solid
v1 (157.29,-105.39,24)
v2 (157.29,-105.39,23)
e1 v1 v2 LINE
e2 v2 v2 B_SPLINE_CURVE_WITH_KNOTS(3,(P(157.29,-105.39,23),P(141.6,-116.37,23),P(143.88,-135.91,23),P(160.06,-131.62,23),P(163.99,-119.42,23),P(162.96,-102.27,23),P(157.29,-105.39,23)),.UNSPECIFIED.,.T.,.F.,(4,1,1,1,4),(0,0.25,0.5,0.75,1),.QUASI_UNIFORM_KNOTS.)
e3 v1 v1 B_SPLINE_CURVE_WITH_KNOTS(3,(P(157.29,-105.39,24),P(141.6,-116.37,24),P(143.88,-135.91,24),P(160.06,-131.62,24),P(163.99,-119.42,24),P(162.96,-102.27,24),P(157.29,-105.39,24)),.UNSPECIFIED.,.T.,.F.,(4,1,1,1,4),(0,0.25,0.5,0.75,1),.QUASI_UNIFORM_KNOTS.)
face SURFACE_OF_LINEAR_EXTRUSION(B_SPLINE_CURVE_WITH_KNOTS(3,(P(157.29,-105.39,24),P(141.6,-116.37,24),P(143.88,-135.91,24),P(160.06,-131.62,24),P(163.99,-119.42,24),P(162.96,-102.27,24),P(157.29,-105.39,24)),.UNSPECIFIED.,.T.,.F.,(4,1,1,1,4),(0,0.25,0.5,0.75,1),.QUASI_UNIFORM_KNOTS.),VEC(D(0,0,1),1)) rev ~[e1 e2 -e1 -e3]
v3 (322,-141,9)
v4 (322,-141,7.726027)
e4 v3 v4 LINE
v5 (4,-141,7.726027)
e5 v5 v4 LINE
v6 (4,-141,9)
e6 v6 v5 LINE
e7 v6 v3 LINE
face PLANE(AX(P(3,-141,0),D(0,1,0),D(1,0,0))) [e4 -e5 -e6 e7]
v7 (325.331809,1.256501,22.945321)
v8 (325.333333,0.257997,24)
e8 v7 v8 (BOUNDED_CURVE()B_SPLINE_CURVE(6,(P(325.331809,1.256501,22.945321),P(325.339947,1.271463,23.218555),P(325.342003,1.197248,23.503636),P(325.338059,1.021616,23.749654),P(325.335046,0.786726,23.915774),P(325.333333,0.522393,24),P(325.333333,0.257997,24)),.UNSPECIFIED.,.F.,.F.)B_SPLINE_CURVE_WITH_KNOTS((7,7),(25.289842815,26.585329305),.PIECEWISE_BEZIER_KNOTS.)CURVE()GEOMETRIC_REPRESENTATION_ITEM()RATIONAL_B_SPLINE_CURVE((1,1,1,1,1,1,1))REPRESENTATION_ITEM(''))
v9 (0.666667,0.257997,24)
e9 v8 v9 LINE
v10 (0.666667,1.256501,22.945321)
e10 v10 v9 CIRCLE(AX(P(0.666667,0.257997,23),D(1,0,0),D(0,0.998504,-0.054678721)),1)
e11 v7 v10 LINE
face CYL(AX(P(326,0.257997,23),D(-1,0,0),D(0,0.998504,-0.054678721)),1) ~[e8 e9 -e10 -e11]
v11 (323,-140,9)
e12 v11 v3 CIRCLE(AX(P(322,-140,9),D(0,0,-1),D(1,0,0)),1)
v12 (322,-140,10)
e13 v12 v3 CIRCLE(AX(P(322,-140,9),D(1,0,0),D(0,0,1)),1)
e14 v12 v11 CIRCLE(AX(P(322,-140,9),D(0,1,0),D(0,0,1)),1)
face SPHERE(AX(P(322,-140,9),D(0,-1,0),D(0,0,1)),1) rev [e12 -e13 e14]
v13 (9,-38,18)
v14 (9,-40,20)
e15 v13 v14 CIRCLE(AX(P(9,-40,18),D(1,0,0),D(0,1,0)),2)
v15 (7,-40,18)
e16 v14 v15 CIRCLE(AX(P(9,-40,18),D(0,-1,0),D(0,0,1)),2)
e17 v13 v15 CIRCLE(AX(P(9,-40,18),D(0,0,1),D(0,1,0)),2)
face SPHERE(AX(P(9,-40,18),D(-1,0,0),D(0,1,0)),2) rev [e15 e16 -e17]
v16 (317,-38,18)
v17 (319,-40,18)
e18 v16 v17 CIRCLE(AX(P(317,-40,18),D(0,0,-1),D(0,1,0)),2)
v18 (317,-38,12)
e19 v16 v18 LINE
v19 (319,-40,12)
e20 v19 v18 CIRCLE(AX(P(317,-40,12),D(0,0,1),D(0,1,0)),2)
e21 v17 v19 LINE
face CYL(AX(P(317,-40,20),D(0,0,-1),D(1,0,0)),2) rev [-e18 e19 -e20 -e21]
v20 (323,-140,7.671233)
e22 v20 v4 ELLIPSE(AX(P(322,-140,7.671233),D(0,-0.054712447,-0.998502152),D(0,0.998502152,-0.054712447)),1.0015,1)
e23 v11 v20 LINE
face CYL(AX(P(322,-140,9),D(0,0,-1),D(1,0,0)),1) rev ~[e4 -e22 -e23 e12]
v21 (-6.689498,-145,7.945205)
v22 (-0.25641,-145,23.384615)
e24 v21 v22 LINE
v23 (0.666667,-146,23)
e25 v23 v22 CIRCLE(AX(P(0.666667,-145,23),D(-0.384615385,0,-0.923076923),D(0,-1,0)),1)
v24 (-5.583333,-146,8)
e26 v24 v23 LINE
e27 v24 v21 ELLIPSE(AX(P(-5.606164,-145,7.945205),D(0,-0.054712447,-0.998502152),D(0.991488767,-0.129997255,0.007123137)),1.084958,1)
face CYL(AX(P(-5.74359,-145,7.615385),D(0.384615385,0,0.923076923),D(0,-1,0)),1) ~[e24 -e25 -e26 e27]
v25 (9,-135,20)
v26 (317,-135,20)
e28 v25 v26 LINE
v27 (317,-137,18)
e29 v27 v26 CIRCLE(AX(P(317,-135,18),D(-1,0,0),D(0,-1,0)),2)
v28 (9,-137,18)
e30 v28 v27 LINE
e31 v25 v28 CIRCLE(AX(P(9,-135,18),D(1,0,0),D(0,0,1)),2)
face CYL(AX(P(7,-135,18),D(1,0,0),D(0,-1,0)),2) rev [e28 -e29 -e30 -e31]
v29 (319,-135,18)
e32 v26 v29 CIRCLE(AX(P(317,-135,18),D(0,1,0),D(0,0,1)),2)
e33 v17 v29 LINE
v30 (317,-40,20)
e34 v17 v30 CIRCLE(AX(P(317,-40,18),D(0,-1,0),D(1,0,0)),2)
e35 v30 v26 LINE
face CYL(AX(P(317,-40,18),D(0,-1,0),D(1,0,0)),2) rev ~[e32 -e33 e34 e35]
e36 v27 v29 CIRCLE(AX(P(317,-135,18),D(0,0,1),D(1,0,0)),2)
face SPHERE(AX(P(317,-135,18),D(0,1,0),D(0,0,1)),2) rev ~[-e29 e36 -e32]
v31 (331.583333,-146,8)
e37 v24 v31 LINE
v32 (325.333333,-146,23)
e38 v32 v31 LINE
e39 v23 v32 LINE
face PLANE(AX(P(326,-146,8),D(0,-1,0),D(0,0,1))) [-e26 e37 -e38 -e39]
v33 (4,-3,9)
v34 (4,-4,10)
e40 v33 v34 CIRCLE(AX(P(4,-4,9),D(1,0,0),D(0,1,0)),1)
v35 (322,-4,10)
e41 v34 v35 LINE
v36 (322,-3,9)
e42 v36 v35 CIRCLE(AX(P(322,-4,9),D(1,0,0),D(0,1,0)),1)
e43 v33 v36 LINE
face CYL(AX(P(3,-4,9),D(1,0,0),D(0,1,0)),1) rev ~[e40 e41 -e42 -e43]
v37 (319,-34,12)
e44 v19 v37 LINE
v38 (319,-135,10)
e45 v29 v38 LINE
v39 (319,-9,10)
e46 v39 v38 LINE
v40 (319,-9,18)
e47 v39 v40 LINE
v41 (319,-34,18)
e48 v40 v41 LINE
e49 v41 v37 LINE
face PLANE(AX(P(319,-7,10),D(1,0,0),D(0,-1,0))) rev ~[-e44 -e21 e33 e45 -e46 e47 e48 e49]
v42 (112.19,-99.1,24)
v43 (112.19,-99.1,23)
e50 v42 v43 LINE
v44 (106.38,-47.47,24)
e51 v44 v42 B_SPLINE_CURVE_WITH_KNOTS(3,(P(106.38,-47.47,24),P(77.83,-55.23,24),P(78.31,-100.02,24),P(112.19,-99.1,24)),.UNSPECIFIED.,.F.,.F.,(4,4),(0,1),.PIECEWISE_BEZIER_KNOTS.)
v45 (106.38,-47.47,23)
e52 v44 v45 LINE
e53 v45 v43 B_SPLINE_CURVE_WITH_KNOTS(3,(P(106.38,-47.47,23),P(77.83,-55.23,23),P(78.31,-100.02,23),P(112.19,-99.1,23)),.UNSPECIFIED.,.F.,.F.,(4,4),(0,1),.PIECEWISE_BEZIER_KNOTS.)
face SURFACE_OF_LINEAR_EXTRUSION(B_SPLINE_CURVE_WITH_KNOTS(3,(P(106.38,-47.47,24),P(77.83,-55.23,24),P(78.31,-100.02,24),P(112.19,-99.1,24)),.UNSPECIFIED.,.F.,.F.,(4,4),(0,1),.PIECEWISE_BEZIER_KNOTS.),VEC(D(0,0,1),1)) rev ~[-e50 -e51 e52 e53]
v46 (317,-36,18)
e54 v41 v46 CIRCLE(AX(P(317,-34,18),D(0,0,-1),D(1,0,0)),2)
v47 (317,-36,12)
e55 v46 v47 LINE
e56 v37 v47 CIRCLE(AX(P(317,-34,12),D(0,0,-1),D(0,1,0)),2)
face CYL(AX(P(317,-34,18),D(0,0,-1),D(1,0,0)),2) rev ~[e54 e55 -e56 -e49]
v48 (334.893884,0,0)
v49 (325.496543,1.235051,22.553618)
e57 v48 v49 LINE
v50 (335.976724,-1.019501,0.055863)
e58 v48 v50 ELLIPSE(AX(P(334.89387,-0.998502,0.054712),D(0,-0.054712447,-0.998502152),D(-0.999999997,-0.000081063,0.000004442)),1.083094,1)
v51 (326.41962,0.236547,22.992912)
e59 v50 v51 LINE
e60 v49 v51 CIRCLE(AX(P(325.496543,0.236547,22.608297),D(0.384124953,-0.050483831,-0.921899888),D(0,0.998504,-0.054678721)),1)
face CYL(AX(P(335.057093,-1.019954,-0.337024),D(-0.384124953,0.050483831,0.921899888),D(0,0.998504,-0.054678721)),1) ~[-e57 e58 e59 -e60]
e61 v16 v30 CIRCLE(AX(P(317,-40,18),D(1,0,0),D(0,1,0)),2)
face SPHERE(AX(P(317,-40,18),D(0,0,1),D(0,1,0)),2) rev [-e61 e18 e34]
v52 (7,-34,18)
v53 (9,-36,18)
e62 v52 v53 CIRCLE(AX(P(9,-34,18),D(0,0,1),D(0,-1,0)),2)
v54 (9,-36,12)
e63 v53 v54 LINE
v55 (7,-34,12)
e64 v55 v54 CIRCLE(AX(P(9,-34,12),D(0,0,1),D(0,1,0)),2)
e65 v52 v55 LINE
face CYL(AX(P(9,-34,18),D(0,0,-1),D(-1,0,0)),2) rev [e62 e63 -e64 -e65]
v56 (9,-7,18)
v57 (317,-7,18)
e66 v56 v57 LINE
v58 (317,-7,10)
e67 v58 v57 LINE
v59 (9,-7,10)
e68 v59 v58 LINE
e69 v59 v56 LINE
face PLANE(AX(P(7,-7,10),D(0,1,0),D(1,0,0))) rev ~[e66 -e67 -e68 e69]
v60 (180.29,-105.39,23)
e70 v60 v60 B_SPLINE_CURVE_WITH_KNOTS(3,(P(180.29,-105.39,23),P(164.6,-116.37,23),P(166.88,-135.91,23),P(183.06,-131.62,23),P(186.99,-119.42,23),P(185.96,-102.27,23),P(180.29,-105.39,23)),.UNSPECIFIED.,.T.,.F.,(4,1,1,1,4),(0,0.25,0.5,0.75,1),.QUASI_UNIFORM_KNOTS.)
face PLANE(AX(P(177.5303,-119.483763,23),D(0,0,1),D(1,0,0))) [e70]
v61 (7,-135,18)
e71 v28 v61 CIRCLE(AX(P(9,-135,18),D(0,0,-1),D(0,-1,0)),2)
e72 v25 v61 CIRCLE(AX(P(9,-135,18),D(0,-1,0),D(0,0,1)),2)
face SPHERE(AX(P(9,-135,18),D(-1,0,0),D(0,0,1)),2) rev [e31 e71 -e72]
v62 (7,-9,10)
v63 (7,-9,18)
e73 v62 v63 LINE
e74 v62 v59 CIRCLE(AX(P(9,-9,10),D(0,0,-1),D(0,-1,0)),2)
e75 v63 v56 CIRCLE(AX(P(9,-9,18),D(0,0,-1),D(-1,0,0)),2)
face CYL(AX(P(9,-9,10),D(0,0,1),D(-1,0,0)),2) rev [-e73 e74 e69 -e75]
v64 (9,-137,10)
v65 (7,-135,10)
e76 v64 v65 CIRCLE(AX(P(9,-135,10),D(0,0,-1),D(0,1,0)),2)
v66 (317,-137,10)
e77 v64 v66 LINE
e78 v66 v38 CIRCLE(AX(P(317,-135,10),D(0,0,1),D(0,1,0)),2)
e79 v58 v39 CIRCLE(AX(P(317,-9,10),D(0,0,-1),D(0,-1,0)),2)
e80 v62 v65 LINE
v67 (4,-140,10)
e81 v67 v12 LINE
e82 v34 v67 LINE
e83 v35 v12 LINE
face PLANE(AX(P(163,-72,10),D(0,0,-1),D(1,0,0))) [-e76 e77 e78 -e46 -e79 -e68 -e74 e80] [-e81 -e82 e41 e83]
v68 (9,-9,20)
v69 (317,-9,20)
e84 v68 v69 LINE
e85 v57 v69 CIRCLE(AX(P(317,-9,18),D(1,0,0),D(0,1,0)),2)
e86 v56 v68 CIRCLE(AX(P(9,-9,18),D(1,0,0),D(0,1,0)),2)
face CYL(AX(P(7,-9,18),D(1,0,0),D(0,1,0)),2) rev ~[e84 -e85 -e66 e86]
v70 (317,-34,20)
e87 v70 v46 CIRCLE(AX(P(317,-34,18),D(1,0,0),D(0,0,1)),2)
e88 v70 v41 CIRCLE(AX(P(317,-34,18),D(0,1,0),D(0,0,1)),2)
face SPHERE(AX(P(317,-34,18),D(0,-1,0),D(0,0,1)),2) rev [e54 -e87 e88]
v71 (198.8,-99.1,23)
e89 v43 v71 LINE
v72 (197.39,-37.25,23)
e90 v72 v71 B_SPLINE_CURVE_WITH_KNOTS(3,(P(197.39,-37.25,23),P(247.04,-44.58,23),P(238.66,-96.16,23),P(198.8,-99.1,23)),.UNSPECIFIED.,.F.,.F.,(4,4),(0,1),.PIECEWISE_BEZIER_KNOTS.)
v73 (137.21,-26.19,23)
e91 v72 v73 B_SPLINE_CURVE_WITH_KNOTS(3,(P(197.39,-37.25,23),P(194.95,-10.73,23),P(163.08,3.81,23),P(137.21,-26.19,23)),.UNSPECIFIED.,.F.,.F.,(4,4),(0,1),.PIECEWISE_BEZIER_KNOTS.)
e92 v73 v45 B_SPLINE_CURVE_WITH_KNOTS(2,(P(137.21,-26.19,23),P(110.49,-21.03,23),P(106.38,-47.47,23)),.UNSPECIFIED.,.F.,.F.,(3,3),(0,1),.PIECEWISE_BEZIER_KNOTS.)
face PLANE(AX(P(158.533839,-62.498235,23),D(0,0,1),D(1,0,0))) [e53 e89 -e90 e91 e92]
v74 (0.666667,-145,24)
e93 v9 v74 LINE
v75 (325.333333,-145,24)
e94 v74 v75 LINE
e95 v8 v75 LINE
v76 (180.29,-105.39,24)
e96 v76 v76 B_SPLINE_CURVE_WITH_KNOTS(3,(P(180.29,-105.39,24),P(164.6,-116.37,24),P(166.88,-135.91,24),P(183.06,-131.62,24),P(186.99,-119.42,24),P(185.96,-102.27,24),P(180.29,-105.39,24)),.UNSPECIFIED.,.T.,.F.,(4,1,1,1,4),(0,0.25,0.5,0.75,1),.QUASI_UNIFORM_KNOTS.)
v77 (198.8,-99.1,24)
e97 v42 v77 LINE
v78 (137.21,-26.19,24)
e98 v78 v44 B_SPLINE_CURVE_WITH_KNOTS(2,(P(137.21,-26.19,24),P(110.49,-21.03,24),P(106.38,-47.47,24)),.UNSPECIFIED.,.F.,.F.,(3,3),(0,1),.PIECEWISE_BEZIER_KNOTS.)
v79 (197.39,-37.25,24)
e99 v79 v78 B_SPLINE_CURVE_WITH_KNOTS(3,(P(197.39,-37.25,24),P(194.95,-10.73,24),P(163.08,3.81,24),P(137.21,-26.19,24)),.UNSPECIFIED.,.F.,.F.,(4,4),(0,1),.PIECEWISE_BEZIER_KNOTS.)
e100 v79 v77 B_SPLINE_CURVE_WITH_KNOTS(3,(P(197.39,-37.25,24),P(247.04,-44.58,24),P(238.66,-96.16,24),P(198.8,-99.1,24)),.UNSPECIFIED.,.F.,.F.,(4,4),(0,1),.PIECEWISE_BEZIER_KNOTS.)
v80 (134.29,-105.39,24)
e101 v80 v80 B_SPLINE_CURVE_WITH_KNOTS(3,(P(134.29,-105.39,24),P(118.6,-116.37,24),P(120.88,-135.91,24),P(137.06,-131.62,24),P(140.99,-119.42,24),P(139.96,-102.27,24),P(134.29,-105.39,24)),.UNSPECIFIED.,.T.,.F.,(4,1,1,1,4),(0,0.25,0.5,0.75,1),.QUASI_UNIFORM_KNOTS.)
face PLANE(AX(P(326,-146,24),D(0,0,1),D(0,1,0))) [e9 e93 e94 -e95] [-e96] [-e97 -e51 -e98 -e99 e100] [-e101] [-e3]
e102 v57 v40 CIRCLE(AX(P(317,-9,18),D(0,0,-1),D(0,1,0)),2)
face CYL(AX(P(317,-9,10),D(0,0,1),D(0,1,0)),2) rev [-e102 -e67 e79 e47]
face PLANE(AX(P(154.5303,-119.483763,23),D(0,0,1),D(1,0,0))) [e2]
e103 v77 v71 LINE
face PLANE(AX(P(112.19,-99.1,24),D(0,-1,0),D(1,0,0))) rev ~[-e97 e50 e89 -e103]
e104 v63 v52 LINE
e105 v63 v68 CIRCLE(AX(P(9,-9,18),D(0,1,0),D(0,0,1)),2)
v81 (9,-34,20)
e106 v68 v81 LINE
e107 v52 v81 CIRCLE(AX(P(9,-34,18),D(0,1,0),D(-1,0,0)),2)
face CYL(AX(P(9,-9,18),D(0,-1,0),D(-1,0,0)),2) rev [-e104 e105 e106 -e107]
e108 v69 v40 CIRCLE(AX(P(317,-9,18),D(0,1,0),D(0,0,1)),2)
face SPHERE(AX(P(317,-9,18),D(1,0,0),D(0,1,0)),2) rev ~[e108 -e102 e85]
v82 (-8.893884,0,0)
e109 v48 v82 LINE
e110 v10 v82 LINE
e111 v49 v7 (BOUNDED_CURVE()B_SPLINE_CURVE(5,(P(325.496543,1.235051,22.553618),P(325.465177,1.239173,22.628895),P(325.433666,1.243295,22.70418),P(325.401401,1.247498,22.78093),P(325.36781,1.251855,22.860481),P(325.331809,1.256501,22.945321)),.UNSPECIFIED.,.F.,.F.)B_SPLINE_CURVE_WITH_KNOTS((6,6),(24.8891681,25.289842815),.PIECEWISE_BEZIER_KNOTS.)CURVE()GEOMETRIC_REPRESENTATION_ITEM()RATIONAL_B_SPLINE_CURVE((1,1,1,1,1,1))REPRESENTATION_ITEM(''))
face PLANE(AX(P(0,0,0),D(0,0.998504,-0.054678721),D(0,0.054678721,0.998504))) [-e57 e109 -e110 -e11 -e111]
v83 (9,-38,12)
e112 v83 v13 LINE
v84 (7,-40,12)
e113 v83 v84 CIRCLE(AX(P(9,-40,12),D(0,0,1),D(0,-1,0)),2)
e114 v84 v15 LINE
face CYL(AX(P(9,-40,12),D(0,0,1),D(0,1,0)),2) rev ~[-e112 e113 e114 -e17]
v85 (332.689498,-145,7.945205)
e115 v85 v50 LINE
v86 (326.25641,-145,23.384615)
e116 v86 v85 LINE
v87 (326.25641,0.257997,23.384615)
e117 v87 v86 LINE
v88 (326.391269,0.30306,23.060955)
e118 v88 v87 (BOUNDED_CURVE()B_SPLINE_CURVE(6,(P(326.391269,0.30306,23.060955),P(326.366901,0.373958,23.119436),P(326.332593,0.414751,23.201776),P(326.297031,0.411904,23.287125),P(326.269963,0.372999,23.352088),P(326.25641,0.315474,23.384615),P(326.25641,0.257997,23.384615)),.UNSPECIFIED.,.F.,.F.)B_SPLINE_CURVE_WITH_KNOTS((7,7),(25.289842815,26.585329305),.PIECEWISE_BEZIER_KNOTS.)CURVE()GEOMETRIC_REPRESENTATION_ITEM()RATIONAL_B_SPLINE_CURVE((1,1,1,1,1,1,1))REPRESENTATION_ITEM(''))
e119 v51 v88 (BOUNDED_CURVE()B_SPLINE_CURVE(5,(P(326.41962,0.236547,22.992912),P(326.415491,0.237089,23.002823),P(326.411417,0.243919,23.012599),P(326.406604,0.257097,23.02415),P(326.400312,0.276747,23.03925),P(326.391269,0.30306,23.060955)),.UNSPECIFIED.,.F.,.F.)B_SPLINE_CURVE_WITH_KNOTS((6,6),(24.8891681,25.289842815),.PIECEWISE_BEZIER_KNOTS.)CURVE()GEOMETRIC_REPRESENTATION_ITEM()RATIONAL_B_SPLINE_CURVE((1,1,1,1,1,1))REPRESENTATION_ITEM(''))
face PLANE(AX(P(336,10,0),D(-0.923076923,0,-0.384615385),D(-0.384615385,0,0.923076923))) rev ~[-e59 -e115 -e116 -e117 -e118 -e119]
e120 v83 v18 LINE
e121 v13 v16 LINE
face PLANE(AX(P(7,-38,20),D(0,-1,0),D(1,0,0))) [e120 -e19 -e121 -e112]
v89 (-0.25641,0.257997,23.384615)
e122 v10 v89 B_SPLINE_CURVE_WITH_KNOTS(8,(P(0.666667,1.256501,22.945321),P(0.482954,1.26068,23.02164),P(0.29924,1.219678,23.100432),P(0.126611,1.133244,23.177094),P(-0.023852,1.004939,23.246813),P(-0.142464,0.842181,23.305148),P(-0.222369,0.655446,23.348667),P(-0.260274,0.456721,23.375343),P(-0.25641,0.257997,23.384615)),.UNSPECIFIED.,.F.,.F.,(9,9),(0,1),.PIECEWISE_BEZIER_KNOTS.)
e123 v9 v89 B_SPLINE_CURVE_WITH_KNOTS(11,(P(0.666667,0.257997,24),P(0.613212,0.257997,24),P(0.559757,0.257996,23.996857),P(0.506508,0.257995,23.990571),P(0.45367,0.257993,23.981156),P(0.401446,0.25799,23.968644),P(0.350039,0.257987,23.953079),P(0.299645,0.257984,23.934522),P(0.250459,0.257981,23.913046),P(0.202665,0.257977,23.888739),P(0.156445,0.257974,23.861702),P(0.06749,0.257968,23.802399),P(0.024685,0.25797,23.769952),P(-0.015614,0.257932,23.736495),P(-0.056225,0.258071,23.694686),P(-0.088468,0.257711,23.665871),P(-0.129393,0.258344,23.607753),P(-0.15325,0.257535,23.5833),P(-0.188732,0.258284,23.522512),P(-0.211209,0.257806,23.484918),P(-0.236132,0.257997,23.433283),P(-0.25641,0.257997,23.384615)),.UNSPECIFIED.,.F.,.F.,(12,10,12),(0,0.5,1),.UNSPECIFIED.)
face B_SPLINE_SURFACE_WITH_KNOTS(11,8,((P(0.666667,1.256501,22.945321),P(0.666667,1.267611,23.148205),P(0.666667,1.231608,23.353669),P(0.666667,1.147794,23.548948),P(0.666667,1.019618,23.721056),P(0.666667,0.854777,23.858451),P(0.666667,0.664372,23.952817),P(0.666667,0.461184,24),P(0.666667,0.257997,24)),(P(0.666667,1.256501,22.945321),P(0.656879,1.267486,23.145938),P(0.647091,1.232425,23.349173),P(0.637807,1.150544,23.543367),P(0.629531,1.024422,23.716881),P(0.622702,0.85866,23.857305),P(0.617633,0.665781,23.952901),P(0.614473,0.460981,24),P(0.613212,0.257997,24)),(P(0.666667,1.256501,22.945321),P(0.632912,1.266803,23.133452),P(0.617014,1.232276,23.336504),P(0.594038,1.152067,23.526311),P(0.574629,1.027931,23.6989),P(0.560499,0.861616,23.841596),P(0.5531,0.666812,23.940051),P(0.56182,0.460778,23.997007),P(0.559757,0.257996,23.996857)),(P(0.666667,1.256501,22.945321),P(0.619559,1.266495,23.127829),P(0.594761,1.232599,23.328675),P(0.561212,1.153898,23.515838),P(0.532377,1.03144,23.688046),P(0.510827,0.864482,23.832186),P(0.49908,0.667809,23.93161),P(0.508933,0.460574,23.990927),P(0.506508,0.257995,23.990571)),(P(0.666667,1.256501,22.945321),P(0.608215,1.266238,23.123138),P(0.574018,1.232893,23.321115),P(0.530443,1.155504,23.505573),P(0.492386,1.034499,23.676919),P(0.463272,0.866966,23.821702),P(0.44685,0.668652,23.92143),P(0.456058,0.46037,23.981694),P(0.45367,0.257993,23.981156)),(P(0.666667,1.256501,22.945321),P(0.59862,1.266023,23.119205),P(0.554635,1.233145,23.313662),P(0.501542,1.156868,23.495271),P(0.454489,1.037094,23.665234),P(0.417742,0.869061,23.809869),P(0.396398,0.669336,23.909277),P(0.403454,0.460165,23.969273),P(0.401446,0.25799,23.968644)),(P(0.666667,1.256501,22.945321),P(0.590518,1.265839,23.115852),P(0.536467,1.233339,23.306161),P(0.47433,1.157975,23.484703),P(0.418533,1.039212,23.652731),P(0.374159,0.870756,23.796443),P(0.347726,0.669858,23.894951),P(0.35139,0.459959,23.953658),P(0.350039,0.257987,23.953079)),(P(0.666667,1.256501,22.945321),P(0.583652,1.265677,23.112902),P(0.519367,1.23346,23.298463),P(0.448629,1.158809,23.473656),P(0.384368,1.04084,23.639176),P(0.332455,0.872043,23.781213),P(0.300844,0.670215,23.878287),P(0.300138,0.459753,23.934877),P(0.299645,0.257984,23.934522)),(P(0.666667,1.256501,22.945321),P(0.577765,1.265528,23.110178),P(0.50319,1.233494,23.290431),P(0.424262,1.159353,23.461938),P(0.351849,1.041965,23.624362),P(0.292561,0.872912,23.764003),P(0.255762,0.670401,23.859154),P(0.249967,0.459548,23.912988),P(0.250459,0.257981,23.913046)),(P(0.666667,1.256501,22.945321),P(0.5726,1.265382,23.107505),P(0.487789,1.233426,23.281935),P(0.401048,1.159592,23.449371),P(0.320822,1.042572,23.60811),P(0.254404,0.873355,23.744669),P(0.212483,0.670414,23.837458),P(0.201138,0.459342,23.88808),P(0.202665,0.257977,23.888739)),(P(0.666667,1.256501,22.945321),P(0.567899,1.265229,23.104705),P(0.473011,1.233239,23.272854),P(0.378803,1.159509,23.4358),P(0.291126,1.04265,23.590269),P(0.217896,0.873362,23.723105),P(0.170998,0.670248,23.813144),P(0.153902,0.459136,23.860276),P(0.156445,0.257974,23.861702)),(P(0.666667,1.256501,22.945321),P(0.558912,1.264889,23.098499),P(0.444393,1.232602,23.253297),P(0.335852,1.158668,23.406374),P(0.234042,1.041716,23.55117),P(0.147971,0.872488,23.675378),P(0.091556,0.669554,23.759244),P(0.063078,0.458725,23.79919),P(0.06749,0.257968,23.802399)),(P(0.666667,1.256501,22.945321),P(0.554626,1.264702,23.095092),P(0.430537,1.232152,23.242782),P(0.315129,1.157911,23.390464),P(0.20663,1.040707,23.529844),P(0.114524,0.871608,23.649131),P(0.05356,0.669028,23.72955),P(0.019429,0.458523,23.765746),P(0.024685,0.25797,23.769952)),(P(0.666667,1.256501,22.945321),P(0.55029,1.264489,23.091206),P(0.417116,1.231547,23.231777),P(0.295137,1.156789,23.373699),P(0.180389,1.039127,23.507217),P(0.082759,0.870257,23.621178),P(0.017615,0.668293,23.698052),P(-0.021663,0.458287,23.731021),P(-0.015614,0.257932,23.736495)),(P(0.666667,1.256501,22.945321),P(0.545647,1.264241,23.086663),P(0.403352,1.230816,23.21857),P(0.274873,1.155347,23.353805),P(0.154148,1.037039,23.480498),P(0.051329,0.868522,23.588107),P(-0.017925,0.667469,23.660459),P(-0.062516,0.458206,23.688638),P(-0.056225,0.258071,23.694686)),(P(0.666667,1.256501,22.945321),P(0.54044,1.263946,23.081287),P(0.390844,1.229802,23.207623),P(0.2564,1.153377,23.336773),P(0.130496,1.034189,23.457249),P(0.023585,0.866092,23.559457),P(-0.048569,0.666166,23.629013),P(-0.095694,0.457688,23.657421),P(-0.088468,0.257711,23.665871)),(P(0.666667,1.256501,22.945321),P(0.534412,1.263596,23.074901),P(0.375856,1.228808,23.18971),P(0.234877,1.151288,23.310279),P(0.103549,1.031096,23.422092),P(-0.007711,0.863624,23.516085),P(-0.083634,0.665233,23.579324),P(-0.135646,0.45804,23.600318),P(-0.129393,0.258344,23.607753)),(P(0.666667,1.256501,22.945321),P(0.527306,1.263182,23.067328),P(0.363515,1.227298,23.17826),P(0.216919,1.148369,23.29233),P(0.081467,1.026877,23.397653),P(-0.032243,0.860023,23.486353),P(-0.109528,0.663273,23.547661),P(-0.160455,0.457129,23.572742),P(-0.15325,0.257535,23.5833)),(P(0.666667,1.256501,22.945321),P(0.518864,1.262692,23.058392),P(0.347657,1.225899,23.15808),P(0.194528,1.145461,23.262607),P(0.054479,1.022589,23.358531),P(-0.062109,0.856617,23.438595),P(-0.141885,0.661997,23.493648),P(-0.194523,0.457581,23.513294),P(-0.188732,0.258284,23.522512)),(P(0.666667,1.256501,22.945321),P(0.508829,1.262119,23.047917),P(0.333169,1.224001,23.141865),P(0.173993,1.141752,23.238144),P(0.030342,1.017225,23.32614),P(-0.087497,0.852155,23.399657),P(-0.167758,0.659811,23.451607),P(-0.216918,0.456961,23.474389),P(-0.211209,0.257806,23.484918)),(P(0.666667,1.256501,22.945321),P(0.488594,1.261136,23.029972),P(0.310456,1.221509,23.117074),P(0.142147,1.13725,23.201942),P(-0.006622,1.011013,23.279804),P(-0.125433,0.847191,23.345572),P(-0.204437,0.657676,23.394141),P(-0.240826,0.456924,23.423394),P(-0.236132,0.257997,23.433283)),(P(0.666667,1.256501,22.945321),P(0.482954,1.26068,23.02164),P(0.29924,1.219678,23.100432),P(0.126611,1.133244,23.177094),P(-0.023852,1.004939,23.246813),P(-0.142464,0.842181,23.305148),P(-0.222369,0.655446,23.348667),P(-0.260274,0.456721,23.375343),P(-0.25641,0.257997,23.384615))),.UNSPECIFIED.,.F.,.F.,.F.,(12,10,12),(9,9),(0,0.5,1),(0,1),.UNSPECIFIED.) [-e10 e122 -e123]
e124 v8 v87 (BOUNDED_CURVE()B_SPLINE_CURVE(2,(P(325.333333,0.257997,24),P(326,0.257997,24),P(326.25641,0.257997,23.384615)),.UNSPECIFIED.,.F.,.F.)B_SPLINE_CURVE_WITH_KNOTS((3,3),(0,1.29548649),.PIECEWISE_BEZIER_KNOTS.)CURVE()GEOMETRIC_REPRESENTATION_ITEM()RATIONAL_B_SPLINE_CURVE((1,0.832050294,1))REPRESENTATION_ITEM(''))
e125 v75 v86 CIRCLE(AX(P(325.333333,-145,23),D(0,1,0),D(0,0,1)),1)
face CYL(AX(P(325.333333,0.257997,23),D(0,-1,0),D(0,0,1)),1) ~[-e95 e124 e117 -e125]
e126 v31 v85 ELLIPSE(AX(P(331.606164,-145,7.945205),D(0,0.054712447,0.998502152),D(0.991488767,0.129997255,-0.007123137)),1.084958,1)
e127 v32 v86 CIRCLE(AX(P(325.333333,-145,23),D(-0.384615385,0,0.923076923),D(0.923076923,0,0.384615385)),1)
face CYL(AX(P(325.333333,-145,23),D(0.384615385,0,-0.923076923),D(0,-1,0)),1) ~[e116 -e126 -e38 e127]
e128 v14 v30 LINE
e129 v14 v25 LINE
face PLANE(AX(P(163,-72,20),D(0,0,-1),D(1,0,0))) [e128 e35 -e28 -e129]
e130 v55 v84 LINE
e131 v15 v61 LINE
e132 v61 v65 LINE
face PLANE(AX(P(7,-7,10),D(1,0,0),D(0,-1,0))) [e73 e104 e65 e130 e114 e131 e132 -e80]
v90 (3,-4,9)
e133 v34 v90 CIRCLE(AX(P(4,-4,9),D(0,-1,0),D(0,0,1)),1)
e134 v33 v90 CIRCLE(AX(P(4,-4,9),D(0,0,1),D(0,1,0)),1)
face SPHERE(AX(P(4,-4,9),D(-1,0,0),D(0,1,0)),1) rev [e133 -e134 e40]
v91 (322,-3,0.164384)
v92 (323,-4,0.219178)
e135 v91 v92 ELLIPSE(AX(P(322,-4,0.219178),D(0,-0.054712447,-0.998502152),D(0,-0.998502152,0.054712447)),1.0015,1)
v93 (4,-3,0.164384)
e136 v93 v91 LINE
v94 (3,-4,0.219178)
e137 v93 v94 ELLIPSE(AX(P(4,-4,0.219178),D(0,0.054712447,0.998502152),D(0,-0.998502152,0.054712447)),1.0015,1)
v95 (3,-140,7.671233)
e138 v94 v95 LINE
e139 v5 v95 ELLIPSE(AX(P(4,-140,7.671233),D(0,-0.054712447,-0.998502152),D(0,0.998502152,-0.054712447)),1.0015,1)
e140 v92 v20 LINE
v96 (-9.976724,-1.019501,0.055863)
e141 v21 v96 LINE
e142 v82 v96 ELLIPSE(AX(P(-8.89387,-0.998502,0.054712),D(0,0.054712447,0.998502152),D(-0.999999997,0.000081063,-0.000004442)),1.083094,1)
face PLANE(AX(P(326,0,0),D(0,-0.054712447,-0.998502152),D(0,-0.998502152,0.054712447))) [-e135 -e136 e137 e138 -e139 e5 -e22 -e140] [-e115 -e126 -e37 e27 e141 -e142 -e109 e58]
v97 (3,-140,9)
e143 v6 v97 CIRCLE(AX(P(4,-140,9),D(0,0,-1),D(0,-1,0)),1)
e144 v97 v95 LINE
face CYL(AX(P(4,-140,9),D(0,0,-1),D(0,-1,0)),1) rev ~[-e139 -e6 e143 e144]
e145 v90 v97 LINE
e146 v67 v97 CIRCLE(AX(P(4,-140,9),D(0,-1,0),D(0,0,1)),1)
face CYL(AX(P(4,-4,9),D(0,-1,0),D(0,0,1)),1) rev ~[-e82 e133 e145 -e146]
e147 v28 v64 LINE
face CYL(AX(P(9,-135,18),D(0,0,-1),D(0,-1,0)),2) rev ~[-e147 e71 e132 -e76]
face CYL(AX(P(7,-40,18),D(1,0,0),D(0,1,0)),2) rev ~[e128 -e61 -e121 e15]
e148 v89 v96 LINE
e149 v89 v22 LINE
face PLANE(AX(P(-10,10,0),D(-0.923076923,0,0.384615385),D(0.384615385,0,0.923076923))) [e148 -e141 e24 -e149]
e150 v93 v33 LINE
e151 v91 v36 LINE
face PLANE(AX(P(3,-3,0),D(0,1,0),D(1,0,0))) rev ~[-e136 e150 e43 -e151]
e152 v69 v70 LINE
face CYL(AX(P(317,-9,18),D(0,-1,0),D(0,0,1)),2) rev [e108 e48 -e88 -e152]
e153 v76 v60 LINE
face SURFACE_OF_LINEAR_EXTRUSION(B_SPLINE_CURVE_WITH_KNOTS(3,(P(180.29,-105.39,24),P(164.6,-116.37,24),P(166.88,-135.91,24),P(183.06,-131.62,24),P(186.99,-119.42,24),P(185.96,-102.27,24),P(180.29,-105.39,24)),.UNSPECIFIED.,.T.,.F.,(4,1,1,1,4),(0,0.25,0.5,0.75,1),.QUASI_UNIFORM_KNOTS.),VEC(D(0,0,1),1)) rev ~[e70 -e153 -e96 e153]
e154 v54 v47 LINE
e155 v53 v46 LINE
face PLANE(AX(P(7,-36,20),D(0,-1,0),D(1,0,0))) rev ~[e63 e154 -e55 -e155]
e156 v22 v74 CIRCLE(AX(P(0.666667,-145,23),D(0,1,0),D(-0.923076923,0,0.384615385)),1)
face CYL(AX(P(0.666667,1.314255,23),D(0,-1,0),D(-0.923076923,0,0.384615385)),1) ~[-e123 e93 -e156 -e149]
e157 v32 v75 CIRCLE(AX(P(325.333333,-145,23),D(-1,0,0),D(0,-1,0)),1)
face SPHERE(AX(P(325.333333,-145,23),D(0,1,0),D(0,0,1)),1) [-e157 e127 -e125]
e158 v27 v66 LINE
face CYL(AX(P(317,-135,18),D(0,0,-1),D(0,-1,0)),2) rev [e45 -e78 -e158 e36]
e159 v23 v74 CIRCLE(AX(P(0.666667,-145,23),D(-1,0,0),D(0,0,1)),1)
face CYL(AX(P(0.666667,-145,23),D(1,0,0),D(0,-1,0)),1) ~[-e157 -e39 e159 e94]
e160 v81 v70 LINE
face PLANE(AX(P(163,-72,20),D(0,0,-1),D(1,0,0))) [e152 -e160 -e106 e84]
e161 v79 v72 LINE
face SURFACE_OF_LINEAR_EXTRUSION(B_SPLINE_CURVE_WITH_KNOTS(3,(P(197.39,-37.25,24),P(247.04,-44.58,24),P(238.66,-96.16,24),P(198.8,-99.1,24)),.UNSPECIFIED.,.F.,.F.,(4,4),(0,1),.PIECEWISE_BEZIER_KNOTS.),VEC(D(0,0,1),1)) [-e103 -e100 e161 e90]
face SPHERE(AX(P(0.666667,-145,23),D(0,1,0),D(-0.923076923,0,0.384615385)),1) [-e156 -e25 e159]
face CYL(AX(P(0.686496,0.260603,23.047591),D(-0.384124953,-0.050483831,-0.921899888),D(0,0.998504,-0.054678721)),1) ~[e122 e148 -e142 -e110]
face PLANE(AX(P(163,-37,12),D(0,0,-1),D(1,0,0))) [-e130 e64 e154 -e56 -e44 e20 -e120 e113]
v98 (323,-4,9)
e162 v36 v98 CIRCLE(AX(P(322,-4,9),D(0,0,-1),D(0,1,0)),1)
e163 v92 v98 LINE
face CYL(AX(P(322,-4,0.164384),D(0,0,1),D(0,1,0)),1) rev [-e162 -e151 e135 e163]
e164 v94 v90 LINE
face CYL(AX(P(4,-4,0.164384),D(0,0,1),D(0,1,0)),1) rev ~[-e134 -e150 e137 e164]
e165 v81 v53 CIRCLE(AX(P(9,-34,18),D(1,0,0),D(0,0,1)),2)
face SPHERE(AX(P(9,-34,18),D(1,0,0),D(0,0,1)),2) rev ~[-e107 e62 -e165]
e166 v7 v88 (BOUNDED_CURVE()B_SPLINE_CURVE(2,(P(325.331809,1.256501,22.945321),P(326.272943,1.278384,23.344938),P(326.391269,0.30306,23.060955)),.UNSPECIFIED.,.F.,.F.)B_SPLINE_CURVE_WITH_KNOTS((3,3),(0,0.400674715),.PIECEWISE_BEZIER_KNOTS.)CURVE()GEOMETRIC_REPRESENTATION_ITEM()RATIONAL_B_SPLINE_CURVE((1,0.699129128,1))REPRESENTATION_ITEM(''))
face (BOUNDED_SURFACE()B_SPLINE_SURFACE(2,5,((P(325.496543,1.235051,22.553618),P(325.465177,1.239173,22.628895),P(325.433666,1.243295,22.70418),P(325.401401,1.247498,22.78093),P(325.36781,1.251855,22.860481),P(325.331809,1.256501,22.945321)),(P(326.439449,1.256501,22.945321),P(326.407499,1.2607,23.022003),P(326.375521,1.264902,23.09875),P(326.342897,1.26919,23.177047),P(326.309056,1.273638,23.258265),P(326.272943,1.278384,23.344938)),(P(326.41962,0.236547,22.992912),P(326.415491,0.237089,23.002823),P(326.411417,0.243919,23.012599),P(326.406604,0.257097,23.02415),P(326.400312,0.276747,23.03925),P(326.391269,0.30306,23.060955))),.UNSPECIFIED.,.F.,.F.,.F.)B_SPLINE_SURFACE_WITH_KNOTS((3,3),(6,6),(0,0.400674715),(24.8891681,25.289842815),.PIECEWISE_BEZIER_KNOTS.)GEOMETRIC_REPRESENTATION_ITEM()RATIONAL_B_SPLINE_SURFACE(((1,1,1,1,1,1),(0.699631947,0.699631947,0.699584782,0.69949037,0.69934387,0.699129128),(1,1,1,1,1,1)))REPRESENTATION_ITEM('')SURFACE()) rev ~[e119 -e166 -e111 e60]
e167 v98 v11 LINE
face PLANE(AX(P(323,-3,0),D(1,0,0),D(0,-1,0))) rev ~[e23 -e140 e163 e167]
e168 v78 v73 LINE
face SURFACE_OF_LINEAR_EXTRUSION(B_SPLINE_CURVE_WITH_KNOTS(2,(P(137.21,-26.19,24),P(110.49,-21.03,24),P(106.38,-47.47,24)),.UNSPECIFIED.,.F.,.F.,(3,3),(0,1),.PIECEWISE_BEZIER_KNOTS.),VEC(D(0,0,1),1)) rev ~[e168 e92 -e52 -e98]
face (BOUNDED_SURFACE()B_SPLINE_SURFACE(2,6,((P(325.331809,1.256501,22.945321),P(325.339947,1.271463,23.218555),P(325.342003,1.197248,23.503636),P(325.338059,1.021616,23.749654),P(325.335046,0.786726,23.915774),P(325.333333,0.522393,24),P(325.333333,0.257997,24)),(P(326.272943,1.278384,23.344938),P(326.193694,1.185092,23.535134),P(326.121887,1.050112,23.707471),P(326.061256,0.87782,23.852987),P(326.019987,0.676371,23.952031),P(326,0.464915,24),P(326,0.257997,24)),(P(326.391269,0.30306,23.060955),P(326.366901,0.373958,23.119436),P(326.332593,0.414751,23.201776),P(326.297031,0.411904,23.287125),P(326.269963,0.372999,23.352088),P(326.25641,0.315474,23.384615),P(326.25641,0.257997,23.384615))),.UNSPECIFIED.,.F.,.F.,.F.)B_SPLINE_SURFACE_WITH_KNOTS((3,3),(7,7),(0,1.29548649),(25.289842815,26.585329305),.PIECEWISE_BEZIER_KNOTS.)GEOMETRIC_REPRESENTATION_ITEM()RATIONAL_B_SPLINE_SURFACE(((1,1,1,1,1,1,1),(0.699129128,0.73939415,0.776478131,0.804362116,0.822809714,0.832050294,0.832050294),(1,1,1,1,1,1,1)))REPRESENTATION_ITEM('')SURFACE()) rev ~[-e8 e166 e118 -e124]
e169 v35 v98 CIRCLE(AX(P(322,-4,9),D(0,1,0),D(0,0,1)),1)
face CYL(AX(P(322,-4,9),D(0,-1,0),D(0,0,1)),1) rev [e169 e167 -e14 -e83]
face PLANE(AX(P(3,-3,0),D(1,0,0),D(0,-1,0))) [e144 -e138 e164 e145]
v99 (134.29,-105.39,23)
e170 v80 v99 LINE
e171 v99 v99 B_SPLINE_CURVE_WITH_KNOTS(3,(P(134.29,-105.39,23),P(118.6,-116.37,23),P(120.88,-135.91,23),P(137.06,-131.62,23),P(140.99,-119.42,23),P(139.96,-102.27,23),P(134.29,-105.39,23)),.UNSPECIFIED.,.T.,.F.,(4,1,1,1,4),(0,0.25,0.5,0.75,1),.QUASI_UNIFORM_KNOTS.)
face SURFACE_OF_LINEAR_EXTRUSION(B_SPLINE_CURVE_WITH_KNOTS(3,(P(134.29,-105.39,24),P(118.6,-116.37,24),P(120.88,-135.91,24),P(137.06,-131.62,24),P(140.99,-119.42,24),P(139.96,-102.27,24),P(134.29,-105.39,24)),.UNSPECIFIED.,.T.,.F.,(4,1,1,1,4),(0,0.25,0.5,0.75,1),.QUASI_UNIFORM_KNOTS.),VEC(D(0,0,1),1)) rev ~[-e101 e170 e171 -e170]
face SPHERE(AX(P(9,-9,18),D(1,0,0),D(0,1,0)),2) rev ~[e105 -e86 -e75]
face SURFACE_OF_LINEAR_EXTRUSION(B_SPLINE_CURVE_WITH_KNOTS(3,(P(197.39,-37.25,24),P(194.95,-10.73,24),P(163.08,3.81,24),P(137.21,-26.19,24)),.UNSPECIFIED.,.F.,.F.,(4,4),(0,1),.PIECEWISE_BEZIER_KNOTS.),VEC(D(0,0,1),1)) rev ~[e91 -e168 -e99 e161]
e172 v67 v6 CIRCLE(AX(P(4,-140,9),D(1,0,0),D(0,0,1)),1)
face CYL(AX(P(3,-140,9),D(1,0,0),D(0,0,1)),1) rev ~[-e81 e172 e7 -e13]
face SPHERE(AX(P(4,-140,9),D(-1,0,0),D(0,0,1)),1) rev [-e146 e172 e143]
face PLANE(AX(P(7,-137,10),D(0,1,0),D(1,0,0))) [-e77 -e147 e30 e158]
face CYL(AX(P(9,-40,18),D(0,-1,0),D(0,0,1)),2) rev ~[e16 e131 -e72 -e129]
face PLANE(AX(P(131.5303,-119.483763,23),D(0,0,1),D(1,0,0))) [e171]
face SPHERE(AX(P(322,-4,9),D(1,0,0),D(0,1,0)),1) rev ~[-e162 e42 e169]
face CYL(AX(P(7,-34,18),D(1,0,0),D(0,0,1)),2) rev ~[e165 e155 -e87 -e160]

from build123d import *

# Parameters (mm, degrees)
SKETCH_W        = 326
SKETCH_H        = 146
PAD_DEPTH       = 24
SKETCH001_W     = 320
SKETCH001_H     = 138
POCKET_DEPTH    = 10
POCKET001_DEPTH = 350
SKETCH003_W     = 312
SKETCH003_H     = 130
POCKET002_DEPTH = 10
SKETCH004_W     = 312
SKETCH004_H     = 2
PAD001_DEPTH    = 8
POCKET003_DEPTH = 1
POCKET004_DEPTH = 1
SKETCH007_W     = 326
SKETCH007_H     = 24
PAD002_DEPTH    = 10
PAD003_DEPTH    = 20
PAD004_DEPTH    = 20
POCKET005_DEPTH = 160
POCKET006_DEPTH = 380
POCKET007_DEPTH = 360
FILLET_R        = 1
FILLET001_R     = 1
FILLET002_R     = 1
FILLET003_R     = 1
FILLET004_R     = 1
FILLET005_R     = 1
FILLET006_R     = 1
FILLET007_R     = 1
FILLET008_R     = 2
FILLET009_R     = 2
FILLET010_R     = 2
FILLET011_R     = 2
FILLET012_R     = 2
FILLET013_R     = 2
FILLET014_R     = 2
FILLET015_R     = 2


with BuildPart() as part:
    # Sketch → Pad (new body)
    with BuildSketch(Plane.XY):
        with Locations((163, -73)):
            Rectangle(SKETCH_W, SKETCH_H)
    extrude(amount=PAD_DEPTH)

    # Sketch001 (on Face5 of Pad) → Pocket (cut)
    with BuildSketch(Plane(origin=(0, 0, 0), x_dir=(1, 0, 0), z_dir=(0, 0, -1))):
        with Locations((163, 72)):
            Rectangle(SKETCH001_W, SKETCH001_H)
    extrude(amount=-POCKET_DEPTH, mode=Mode.SUBTRACT)

    # Sketch002 (on Face2 of Pocket) → Pocket001 (cut)
    with BuildSketch(Plane(origin=(0, 0, 0), x_dir=(0, -1, 0), z_dir=(-1, 0, 0))):
        Polygon((0, 0), (146, 0), (146, 8), align=None)
    extrude(amount=-POCKET001_DEPTH, mode=Mode.SUBTRACT)

    # Sketch003 (on Face11 of Pocket001) → Pocket002 (cut)
    with BuildSketch(Plane(origin=(0, 0, 10), x_dir=(1, 0, 0), z_dir=(0, 0, -1))):
        with Locations((163, 72)):
            Rectangle(SKETCH003_W, SKETCH003_H)
    extrude(amount=-POCKET002_DEPTH, mode=Mode.SUBTRACT)

    # Sketch004 (on Face16 of Pocket002) → Pad001 (join)
    with BuildSketch(Plane(origin=(0, 0, 20), x_dir=(1, 0, 0), z_dir=(0, 0, -1))):
        with Locations((163, 37)):
            Rectangle(SKETCH004_W, SKETCH004_H)
    extrude(amount=PAD001_DEPTH)

    # Sketch005 (on Face5 of Pad001) → Pocket003 (cut)
    with BuildSketch(Plane.XY.offset(24)):
        with BuildLine():
            add(Edge.make_bspline(
                [(197.39, -37.25), (194.95, -10.73), (163.08, 3.81), (137.21, -26.19)],
                knots=[0, 0, 0, 0, 1, 1, 1, 1], degree=3))
            add(Edge.make_bspline(
                [(137.21, -26.19), (110.49, -21.03), (106.38, -47.47)],
                knots=[0, 0, 0, 1, 1, 1], degree=2))
            add(Edge.make_bspline(
                [(106.38, -47.47), (77.83, -55.23), (78.31, -100.02), (112.19, -99.1)],
                knots=[0, 0, 0, 0, 1, 1, 1, 1], degree=3))
            Line((112.19, -99.1), (198.8, -99.1))
            add(Edge.make_bspline(
                [(197.39, -37.25), (247.04, -44.58), (238.66, -96.16), (198.8, -99.1)],
                knots=[0, 0, 0, 0, 1, 1, 1, 1], degree=3))
        make_face()
    extrude(amount=-POCKET003_DEPTH, mode=Mode.SUBTRACT)

    # Sketch006 (on Face5 of Pocket003) → Pocket004 (cut)
    with BuildSketch(Plane.XY.offset(24)):
        with BuildLine():
            add(Edge.make_bspline(
                [(134.29, -105.39), (118.6, -116.37), (120.88, -135.91), (137.06, -131.62), (140.99, -119.42), (139.96, -102.27), (134.29, -105.39)],
                knots=[0, 0, 0, 0, 0.25, 0.5, 0.75, 1, 1, 1, 1], degree=3))
        make_face()
        with BuildLine():
            add(Edge.make_bspline(
                [(157.29, -105.39), (141.6, -116.37), (143.88, -135.91), (160.06, -131.62), (163.99, -119.42), (162.96, -102.27), (157.29, -105.39)],
                knots=[0, 0, 0, 0, 0.25, 0.5, 0.75, 1, 1, 1, 1], degree=3))
        make_face()
        with BuildLine():
            add(Edge.make_bspline(
                [(180.29, -105.39), (164.6, -116.37), (166.88, -135.91), (183.06, -131.62), (186.99, -119.42), (185.96, -102.27), (180.29, -105.39)],
                knots=[0, 0, 0, 0, 0.25, 0.5, 0.75, 1, 1, 1, 1], degree=3))
        make_face()
    extrude(amount=-POCKET004_DEPTH, mode=Mode.SUBTRACT)

    # Sketch007 (on Face1 of Pocket004) → Pad002 (join)
    with BuildSketch(Plane(origin=(0, 0, 0), x_dir=(-1, 0, 0), z_dir=(0, 1, 0))):
        with Locations((-163, 12)):
            Rectangle(SKETCH007_W, SKETCH007_H)
    extrude(amount=PAD002_DEPTH)

    # Sketch009 (on Face1 of Pad002) → Pad003 (join)
    with BuildSketch(Plane(origin=(0, 0, 0), x_dir=(0, -1, 0), z_dir=(-1, 0, 0))):
        Polygon((-10, 24), (-10, 0), (0, 0), (146, 8), (146, 24), align=None)
    extrude(amount=PAD003_DEPTH)

    # Sketch010 (on Face4 of Pad003) → Pad004 (join)
    with BuildSketch(Plane.YZ.offset(326)):
        Polygon((10, 24), (10, 0), (0, 0), (-146, 8), (-146, 24), align=None)
    extrude(amount=PAD004_DEPTH)

    # Sketch011 (on Face19 of Pad004) → Pocket005 (cut)
    with BuildSketch(Plane(origin=(0, 10, 0), x_dir=(-1, 0, 0), z_dir=(0, 1, 0))):
        Polygon((10, 0), (0, 24), (62.814814, 43.289979), (90.06, 0), align=None)
    extrude(amount=-POCKET005_DEPTH, mode=Mode.SUBTRACT)

    # Sketch012 (on Face30 of Pocket005) → Pocket006 (cut)
    with BuildSketch(Plane(origin=(0, 10, 0), x_dir=(-1, 0, 0), z_dir=(0, 1, 0))):
        Polygon((-383.56, 0), (-336, 0), (-326, 24), (-386.967866, 53.431433), align=None)
    extrude(amount=-POCKET006_DEPTH, mode=Mode.SUBTRACT)

    # Sketch013 → Pocket007 (cut, symmetric)
    with BuildSketch(Plane.YZ):
        Polygon((0, 0), (3.1, 56.61), (76.09231, 25.718735), (62.818003, -34.69), align=None)
    extrude(amount=POCKET007_DEPTH, both=True, mode=Mode.SUBTRACT)

    # Fillet
    fillet_edges = [part.edges().sort_by_distance(p)[0] for p in [
        (0, 0.657128, 24),
    ]]
    fillet(fillet_edges, radius=FILLET_R)

    # Fillet001
    fillet001_edges = [part.edges().sort_by_distance(p)[0] for p in [
        (163.333333, 1.314255, 24),
    ]]
    fillet(fillet001_edges, radius=FILLET001_R)

    # Fillet002
    fillet002_edges = [part.edges().sort_by_distance(p)[0] for p in [
        (326, -73, 24),
    ]]
    fillet(fillet002_edges, radius=FILLET002_R)

    # Fillet003
    fillet003_edges = [part.edges().sort_by_distance(p)[0] for p in [
        (329.461538, -146, 15.692308),
    ]]
    fillet(fillet003_edges, radius=FILLET003_R)

    # Fillet004
    fillet004_edges = [part.edges().sort_by_distance(p)[0] for p in [
        (163, -3, 10),
    ]]
    fillet(fillet004_edges, radius=FILLET004_R)

    # Fillet005
    fillet005_edges = [part.edges().sort_by_distance(p)[0] for p in [
        (323, -72.5, 10),
    ]]
    fillet(fillet005_edges, radius=FILLET005_R)

    # Fillet006
    fillet006_edges = [part.edges().sort_by_distance(p)[0] for p in [
        (162.5, -141, 10),
    ]]
    fillet(fillet006_edges, radius=FILLET006_R)

    # Fillet007
    fillet007_edges = [part.edges().sort_by_distance(p)[0] for p in [
        (3, -72, 10),
    ]]
    fillet(fillet007_edges, radius=FILLET007_R)

    # Fillet008
    fillet008_edges = [part.edges().sort_by_distance(p)[0] for p in [
        (163, -7, 20),
    ]]
    fillet(fillet008_edges, radius=FILLET008_R)

    # Fillet009
    fillet009_edges = [part.edges().sort_by_distance(p)[0] for p in [
        (319, -7, 14),
    ]]
    fillet(fillet009_edges, radius=FILLET009_R)

    # Fillet010
    fillet010_edges = [part.edges().sort_by_distance(p)[0] for p in [
        (162, -36, 20),
    ]]
    fillet(fillet010_edges, radius=FILLET010_R)

    # Fillet011
    fillet011_edges = [part.edges().sort_by_distance(p)[0] for p in [
        (7, -21.5, 20),
    ]]
    fillet(fillet011_edges, radius=FILLET011_R)

    # Fillet012
    fillet012_edges = [part.edges().sort_by_distance(p)[0] for p in [
        (319, -38, 16),
    ]]
    fillet(fillet012_edges, radius=FILLET012_R)

    # Fillet013
    fillet013_edges = [part.edges().sort_by_distance(p)[0] for p in [
        (319, -88.5, 20),
    ]]
    fillet(fillet013_edges, radius=FILLET013_R)

    # Fillet014
    fillet014_edges = [part.edges().sort_by_distance(p)[0] for p in [
        (162, -137, 20),
    ]]
    fillet(fillet014_edges, radius=FILLET014_R)

    # Fillet015
    fillet015_edges = [part.edges().sort_by_distance(p)[0] for p in [
        (7, -87.5, 20),
    ]]
    fillet(fillet015_edges, radius=FILLET015_R)


solid = part.part
